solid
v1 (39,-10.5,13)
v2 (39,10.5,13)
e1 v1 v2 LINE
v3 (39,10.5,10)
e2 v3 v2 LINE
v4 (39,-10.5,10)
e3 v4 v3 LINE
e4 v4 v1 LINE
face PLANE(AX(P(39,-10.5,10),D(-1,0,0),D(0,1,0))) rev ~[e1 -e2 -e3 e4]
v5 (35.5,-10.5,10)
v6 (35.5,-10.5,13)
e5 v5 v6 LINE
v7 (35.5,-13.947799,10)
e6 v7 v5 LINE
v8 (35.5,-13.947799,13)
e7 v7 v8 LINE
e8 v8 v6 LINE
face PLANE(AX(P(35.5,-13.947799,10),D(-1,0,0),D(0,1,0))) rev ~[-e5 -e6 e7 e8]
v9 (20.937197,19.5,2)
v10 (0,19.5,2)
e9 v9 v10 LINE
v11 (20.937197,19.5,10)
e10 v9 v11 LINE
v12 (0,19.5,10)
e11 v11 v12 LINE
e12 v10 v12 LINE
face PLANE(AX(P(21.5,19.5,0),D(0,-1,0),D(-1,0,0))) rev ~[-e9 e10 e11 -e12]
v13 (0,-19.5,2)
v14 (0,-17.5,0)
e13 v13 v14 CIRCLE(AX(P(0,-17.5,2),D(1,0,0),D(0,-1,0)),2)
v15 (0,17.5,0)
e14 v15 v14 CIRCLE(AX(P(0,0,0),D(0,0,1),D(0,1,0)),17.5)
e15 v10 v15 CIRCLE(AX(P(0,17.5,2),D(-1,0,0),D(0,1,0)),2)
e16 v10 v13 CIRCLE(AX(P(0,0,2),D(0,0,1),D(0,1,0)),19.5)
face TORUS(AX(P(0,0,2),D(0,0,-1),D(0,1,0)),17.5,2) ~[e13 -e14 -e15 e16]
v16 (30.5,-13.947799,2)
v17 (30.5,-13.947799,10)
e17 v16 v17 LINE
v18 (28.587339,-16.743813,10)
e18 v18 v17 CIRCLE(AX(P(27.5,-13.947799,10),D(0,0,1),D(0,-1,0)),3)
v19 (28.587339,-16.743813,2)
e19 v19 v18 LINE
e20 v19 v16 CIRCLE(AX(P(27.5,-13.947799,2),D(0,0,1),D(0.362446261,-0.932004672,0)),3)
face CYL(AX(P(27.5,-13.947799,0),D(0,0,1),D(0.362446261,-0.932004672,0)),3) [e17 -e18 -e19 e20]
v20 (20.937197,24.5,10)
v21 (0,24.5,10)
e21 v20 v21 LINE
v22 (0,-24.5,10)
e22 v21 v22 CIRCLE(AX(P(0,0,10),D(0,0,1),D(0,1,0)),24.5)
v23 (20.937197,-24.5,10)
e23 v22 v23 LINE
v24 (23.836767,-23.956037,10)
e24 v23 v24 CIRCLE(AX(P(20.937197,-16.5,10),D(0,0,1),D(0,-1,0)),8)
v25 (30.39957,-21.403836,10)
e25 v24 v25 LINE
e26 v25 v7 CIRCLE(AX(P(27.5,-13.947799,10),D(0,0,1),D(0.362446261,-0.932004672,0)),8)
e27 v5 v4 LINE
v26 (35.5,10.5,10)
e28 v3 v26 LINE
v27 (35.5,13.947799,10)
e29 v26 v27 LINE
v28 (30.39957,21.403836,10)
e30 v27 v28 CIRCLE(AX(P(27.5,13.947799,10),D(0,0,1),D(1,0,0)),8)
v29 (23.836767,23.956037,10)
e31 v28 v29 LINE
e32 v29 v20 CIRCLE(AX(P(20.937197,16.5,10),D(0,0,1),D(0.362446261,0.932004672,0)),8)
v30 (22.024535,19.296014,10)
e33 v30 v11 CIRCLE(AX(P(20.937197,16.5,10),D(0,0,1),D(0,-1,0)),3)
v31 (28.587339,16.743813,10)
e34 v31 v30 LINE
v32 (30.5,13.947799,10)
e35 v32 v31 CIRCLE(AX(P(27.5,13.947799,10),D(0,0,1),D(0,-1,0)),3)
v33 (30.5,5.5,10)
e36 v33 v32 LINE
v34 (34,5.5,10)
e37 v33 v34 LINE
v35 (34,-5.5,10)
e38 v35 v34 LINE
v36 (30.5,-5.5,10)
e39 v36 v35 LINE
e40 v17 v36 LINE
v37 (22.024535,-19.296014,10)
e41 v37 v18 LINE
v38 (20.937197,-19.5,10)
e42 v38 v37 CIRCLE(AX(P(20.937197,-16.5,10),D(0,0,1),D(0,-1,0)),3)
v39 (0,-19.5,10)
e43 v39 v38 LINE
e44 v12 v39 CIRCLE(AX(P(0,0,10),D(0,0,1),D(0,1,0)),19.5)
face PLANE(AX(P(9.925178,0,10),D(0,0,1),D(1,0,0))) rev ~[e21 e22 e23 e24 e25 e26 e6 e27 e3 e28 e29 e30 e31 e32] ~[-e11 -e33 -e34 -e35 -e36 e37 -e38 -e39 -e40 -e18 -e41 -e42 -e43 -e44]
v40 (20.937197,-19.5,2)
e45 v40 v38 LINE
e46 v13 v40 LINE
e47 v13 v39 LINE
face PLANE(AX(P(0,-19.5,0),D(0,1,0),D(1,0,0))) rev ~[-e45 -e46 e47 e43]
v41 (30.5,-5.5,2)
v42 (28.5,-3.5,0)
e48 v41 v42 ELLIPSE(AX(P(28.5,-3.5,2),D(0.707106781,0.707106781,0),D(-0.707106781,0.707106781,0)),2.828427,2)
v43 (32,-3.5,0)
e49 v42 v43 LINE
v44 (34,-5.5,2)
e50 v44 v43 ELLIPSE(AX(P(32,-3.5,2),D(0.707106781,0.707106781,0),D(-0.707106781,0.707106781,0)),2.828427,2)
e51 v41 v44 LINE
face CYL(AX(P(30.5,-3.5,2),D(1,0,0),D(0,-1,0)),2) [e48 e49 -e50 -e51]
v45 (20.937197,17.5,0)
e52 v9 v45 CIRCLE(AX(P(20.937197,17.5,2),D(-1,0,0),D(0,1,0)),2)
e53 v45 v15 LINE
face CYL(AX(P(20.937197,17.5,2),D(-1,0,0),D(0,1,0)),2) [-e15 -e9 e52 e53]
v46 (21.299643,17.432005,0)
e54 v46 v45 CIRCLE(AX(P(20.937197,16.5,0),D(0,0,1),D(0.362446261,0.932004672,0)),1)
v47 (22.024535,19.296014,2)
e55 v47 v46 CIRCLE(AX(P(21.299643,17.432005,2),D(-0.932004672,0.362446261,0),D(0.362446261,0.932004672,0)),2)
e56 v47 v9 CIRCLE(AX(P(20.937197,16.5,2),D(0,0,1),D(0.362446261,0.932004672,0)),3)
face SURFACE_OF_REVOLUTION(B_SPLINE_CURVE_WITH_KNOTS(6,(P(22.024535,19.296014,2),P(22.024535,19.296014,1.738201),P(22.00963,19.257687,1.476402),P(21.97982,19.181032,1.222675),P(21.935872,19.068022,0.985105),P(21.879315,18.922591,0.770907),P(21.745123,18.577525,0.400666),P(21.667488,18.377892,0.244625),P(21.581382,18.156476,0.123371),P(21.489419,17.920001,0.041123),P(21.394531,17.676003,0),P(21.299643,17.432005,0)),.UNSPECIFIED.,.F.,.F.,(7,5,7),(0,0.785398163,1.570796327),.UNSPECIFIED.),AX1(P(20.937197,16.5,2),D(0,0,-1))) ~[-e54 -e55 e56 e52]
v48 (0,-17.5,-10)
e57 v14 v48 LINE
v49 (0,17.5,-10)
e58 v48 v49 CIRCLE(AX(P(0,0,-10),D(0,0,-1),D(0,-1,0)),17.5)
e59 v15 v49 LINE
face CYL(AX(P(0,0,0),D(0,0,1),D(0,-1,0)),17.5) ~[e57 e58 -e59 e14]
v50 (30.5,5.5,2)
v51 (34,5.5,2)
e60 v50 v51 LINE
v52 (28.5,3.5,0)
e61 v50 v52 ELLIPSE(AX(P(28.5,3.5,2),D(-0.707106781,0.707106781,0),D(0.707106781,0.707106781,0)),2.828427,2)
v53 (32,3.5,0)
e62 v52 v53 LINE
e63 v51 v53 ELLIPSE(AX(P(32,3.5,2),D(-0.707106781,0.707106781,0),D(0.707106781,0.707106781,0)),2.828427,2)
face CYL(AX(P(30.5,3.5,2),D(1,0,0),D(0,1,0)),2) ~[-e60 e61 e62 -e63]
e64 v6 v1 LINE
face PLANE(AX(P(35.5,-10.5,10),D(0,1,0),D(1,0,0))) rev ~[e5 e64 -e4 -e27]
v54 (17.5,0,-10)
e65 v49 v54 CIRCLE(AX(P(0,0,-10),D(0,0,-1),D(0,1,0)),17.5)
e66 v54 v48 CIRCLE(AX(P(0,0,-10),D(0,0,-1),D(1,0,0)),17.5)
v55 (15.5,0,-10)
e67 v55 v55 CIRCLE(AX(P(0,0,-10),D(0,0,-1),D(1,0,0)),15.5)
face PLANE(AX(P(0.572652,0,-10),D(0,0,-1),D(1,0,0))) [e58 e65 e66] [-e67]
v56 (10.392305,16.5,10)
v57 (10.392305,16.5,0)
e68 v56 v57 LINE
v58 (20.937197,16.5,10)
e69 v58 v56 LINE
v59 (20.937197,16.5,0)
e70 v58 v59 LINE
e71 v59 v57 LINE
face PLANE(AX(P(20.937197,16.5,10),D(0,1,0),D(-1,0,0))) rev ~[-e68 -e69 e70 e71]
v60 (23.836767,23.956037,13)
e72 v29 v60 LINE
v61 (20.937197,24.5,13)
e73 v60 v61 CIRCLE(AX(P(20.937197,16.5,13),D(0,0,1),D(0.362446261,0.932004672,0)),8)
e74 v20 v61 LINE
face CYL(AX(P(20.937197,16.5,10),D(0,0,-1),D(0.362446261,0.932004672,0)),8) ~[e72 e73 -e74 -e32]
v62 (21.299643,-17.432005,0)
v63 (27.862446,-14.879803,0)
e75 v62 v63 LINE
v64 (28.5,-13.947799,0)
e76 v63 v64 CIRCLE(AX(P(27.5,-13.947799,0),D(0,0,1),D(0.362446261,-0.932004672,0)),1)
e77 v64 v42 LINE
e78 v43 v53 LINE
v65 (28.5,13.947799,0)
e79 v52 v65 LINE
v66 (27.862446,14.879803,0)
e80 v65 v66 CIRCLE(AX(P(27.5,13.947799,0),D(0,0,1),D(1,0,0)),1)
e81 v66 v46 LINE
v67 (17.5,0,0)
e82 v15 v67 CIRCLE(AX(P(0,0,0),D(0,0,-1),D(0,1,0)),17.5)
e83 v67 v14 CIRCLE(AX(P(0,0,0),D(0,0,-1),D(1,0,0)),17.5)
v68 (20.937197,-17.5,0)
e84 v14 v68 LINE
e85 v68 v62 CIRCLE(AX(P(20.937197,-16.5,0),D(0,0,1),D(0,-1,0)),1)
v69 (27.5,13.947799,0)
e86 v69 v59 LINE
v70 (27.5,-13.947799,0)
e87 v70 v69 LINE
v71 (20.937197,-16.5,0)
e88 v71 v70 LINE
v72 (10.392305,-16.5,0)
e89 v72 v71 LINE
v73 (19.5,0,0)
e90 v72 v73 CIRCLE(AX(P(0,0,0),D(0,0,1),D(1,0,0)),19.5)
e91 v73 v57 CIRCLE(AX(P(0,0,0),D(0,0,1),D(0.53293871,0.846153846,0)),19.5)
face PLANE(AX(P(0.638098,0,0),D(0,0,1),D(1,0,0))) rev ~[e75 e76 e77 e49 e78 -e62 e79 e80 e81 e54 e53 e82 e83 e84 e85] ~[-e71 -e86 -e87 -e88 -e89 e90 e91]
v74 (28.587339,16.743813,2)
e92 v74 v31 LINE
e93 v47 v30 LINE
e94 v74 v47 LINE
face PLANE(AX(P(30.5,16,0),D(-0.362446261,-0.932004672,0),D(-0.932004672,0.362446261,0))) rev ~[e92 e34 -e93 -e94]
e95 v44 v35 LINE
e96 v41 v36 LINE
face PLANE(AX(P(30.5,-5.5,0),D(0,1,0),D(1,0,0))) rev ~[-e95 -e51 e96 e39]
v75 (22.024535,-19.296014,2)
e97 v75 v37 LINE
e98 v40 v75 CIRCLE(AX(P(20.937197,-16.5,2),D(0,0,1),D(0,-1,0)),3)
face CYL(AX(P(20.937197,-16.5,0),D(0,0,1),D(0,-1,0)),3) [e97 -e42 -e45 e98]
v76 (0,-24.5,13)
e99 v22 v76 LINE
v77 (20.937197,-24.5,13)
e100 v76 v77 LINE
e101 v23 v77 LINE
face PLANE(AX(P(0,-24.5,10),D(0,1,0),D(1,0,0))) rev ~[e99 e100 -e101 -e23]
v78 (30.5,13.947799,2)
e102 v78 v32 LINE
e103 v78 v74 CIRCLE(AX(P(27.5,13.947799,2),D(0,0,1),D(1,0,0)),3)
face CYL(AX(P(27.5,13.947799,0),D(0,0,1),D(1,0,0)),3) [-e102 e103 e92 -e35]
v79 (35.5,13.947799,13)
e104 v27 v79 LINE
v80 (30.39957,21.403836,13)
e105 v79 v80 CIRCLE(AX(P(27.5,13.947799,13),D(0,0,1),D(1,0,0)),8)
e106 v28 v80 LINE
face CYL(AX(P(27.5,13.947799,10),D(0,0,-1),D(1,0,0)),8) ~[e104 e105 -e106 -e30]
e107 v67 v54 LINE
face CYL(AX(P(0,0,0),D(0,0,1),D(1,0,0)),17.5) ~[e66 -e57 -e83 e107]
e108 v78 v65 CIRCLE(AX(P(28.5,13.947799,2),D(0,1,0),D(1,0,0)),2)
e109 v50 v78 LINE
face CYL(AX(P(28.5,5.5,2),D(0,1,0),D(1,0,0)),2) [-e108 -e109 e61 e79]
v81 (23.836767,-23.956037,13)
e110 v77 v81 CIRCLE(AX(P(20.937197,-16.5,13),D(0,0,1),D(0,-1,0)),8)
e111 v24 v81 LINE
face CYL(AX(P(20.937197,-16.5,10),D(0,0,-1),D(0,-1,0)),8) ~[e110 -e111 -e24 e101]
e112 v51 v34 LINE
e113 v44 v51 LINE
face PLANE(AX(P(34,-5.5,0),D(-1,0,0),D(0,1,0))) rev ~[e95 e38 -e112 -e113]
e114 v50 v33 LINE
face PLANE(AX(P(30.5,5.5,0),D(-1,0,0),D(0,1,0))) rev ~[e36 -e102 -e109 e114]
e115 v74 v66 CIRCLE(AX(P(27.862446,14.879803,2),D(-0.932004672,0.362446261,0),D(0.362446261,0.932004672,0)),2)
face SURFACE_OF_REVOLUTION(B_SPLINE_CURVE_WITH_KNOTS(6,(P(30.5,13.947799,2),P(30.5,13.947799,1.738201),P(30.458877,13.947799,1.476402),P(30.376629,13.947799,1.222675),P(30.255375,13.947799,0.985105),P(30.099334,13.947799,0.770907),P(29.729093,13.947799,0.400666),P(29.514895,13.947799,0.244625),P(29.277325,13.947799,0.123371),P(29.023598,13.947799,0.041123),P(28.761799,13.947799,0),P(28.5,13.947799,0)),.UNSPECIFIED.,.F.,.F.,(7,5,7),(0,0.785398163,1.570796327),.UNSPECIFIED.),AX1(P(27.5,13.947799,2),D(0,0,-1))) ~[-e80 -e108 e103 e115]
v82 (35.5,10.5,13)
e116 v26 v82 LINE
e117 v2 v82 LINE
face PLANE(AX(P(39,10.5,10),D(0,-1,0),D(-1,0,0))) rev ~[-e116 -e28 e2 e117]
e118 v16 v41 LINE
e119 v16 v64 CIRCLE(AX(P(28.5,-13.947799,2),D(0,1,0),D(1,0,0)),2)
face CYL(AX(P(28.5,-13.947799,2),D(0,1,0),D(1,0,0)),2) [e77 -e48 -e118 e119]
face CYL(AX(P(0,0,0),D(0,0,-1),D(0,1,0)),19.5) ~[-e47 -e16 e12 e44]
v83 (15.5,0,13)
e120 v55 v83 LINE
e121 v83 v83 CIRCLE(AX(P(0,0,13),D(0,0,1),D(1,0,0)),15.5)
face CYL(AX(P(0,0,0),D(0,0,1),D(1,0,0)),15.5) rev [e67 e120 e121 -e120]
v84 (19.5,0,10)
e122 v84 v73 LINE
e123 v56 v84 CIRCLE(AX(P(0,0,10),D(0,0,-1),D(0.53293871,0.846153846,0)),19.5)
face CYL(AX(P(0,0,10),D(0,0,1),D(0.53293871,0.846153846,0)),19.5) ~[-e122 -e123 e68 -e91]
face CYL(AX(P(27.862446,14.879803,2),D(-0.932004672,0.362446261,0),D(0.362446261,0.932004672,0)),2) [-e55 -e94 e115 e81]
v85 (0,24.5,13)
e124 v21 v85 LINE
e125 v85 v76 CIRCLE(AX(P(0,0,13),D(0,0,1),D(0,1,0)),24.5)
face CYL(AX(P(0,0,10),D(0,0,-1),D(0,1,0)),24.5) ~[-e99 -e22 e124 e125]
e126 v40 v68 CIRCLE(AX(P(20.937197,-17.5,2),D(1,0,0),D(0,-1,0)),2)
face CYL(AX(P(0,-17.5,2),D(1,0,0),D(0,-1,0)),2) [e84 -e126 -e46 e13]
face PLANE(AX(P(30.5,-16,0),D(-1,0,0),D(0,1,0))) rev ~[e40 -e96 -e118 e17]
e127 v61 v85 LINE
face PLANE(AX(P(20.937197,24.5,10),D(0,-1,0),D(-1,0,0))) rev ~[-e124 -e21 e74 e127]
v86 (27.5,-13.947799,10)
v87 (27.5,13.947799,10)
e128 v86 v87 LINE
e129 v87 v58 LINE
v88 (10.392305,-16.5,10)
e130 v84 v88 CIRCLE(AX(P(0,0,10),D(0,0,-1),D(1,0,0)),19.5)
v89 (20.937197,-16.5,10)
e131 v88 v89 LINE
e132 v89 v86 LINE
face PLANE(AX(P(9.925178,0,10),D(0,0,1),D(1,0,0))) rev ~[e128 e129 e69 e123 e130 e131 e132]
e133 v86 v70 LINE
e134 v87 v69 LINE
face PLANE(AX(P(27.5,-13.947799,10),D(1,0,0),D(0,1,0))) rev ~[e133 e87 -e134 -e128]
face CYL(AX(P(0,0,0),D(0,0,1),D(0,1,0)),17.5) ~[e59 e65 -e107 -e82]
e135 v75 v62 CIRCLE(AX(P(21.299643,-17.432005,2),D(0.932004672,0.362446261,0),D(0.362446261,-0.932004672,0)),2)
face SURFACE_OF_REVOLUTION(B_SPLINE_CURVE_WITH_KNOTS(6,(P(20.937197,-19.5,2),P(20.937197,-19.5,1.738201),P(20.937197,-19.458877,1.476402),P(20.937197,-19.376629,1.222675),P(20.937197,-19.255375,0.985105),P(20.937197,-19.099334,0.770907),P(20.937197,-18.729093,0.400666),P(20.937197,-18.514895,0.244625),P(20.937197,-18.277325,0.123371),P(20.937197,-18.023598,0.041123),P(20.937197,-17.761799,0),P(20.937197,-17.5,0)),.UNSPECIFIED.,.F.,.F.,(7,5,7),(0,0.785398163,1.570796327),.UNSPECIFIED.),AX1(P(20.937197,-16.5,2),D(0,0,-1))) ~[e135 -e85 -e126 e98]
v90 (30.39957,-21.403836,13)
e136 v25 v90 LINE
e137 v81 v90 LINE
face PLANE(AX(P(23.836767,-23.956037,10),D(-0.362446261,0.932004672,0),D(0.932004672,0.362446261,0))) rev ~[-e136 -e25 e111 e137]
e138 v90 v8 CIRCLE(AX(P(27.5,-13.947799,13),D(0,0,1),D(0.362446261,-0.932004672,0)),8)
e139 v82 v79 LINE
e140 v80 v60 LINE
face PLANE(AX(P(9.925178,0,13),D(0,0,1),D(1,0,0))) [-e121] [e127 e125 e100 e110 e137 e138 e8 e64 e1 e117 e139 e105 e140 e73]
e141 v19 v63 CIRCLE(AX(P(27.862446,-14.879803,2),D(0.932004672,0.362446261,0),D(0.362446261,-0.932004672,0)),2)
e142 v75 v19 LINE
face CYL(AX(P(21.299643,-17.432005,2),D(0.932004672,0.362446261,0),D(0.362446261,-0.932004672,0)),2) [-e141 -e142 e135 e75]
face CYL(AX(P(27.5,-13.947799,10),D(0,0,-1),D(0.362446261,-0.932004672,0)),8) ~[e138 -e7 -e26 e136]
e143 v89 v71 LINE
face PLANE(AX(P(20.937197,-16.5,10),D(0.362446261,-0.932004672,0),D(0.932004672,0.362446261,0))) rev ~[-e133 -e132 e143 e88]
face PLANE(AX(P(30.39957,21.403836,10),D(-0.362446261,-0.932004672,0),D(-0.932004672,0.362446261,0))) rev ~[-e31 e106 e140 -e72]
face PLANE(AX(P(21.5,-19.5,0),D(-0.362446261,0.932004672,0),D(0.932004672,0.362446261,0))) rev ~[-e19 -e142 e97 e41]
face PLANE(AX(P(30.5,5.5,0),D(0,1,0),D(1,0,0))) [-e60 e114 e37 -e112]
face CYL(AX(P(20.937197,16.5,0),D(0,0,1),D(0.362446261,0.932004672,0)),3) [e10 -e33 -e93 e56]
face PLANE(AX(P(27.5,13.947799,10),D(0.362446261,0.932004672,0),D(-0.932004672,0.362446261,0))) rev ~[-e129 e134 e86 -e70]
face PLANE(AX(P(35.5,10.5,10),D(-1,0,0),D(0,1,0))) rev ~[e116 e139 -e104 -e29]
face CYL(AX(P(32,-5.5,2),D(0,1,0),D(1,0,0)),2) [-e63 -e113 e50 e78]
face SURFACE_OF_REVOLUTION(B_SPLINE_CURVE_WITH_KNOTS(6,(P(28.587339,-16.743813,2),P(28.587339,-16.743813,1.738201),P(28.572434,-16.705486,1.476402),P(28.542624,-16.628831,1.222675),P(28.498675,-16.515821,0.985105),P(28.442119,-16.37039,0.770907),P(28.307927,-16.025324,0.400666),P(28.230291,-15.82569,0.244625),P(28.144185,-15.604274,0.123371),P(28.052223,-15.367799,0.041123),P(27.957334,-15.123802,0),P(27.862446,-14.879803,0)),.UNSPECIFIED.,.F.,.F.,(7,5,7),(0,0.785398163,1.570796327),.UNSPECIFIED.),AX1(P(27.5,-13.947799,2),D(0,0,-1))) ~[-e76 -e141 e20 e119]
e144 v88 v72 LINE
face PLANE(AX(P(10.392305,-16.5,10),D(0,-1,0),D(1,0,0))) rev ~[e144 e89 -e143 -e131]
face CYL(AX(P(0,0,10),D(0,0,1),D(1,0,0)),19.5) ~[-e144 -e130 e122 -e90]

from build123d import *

# Parameters (mm, degrees)
F0_W     = 3.5
F0_H     = 11
F1_DEPTH = 10
F2_R     = 3
F3_R     = 15.5
F4_DEPTH = 25
F3_W     = 3.5
F3_H     = 5
F5_DEPTH = 3
F6_R     = 2
F7_R     = 15.5
F8_DEPTH = 10


with BuildPart() as f1:
    # F0 (on Top) → F1 (new body)
    with BuildSketch(Plane.XY):
        with BuildLine():
            ThreePointArc((0, -19.5), (13.7885822331, -13.7885822331), (19.5, 0))
            ThreePointArc((19.5, 0), (13.7885822331, 13.7885822331), (0, 19.5))
            ThreePointArc((0, 19.5), (-19.5, 0), (0, -19.5))
        make_face()
        with BuildLine():
            ThreePointArc((0, 19.5), (13.7885822331, 13.7885822331), (19.5, 0))
            ThreePointArc((19.5, 0), (13.7885822331, -13.7885822331), (0, -19.5))
            Line((0, -19.5), (21.5, -19.5))
            Line((21.5, -19.5), (21.5, 19.5))
            Line((21.5, 19.5), (0, 19.5))
        make_face()
        Polygon((30.5, 16), (21.5, 19.5), (21.5, -19.5), (30.5, -16), (30.5, -5.5), (30.5, 5.5), align=None)
        with Locations((32.25, 0)):
            Rectangle(F0_W, F0_H)
    extrude(amount=F1_DEPTH)

    # F2
    f2_edges = [f1.edges().sort_by_distance(p)[0] for p in [
        (30.5, 16, 5),
        (21.5, 19.5, 5),
        (30.5, -16, 5),
        (21.5, -19.5, 5),
    ]]
    fillet(f2_edges, radius=F2_R)

    # F3 (on face) → F4 (cut)
    with BuildSketch(Plane.XY.offset(10)):
        Circle(F3_R)
        with BuildLine():
            Line((20.9371966075, 16.5), (10.3923048454, 16.5))
            ThreePointArc((10.3923048454, 16.5), (17.0719059347, 9.4233766643), (19.5, 0))
            ThreePointArc((19.5, 0), (17.0719059347, -9.4233766643), (10.3923048454, -16.5))
            Line((10.3923048454, -16.5), (20.9371966075, -16.5))
            Line((20.9371966075, -16.5), (27.5, -13.9477986807))
            Line((27.5, -13.9477986807), (27.5, -2.5))
            Line((27.5, -2.5), (27.5, 2.5))
            Line((27.5, 2.5), (27.5, 13.9477986807))
            Line((27.5, 13.9477986807), (20.9371966075, 16.5))
        make_face()
    extrude(amount=-F4_DEPTH, mode=Mode.SUBTRACT)

    # F3 (on face) → F5 (join)
    with BuildSketch(Plane.XY.offset(10)):
        with BuildLine():
            Line((20.9371966075, 24.5), (0, 24.5))
            ThreePointArc((0, 24.5), (-24.5, 0), (0, -24.5))
            Line((0, -24.5), (20.9371966075, -24.5))
            ThreePointArc((20.9371966075, -24.5), (22.4122730498, -24.3628334263), (23.8367666967, -23.9560373723))
            Line((23.8367666967, -23.9560373723), (30.3995700892, -21.403836053))
            ThreePointArc((30.3995700892, -21.403836053), (34.1028993902, -18.4646249606), (35.5, -13.9477986807))
            Line((35.5, -13.9477986807), (35.5, -10.5))
            Line((35.5, -10.5), (39, -10.5))
            Line((39, -10.5), (39, 10.5))
            Line((39, 10.5), (35.5, 10.5))
            Line((35.5, 10.5), (35.5, 13.9477986807))
            ThreePointArc((35.5, 13.9477986807), (34.1028993902, 18.4646249606), (30.3995700892, 21.403836053))
            Line((30.3995700892, 21.403836053), (23.8367666967, 23.9560373723))
            ThreePointArc((23.8367666967, 23.9560373723), (22.4122730498, 24.3628334263), (20.9371966075, 24.5))
        make_face()
        with BuildLine():
            ThreePointArc((0, -19.5), (-19.5, 0), (0, 19.5))
            Line((0, 19.5), (20.9371966075, 19.5))
            ThreePointArc((20.9371966075, 19.5), (21.4903502734, 19.4485625349), (22.024535391, 19.2960140146))
            Line((22.024535391, 19.2960140146), (28.5873387835, 16.7438126953))
            ThreePointArc((28.5873387835, 16.7438126953), (29.9760872713, 15.6416085357), (30.5, 13.9477986807))
            Line((30.5, 13.9477986807), (30.5, 5.5))
            Line((30.5, 5.5), (34, 5.5))
            Line((34, 5.5), (34, -5.5))
            Line((34, -5.5), (30.5, -5.5))
            Line((30.5, -5.5), (30.5, -13.9477986807))
            ThreePointArc((30.5, -13.9477986807), (29.9760872713, -15.6416085357), (28.5873387835, -16.7438126953))
            Line((28.5873387835, -16.7438126953), (22.024535391, -19.2960140146))
            ThreePointArc((22.024535391, -19.2960140146), (21.4903502734, -19.4485625349), (20.9371966075, -19.5))
            Line((20.9371966075, -19.5), (0, -19.5))
        make_face(mode=Mode.SUBTRACT)
        with BuildLine():
            ThreePointArc((0, -16.5), (-16.5, 0), (0, 16.5))
            Line((0, 16.5), (10.3923048454, 16.5))
            ThreePointArc((10.3923048454, 16.5), (5.4083269132, 18.7349939952), (0, 19.5))
            ThreePointArc((0, 19.5), (-19.5, 0), (0, -19.5))
            ThreePointArc((0, -19.5), (5.4083269132, -18.7349939952), (10.3923048454, -16.5))
            Line((10.3923048454, -16.5), (0, -16.5))
        make_face()
        with Locations((29.25, 0)):
            Rectangle(F3_W, F3_H)
        with BuildLine():
            ThreePointArc((0, 19.5), (5.4083269132, 18.7349939952), (10.3923048454, 16.5))
            Line((10.3923048454, 16.5), (20.9371966075, 16.5))
            Line((20.9371966075, 16.5), (27.5, 13.9477986807))
            Line((27.5, 13.9477986807), (27.5, 2.5))
            Line((27.5, 2.5), (31, 2.5))
            Line((31, 2.5), (31, -2.5))
            Line((31, -2.5), (27.5, -2.5))
            Line((27.5, -2.5), (27.5, -13.9477986807))
            Line((27.5, -13.9477986807), (20.9371966075, -16.5))
            Line((20.9371966075, -16.5), (10.3923048454, -16.5))
            ThreePointArc((10.3923048454, -16.5), (5.4083269132, -18.7349939952), (0, -19.5))
            Line((0, -19.5), (20.9371966075, -19.5))
            ThreePointArc((20.9371966075, -19.5), (21.4903502734, -19.4485625349), (22.024535391, -19.2960140146))
            Line((22.024535391, -19.2960140146), (28.5873387835, -16.7438126953))
            ThreePointArc((28.5873387835, -16.7438126953), (29.9760872713, -15.6416085357), (30.5, -13.9477986807))
            Line((30.5, -13.9477986807), (30.5, -5.5))
            Line((30.5, -5.5), (34, -5.5))
            Line((34, -5.5), (34, 5.5))
            Line((34, 5.5), (30.5, 5.5))
            Line((30.5, 5.5), (30.5, 13.9477986807))
            ThreePointArc((30.5, 13.9477986807), (29.9760872713, 15.6416085357), (28.5873387835, 16.7438126953))
            Line((28.5873387835, 16.7438126953), (22.024535391, 19.2960140146))
            ThreePointArc((22.024535391, 19.2960140146), (21.4903502734, 19.4485625349), (20.9371966075, 19.5))
            Line((20.9371966075, 19.5), (0, 19.5))
        make_face()
        with BuildLine():
            Line((20.9371966075, 16.5), (10.3923048454, 16.5))
            ThreePointArc((10.3923048454, 16.5), (17.0719059347, 9.4233766643), (19.5, 0))
            ThreePointArc((19.5, 0), (17.0719059347, -9.4233766643), (10.3923048454, -16.5))
            Line((10.3923048454, -16.5), (20.9371966075, -16.5))
            Line((20.9371966075, -16.5), (27.5, -13.9477986807))
            Line((27.5, -13.9477986807), (27.5, -2.5))
            Line((27.5, -2.5), (27.5, 2.5))
            Line((27.5, 2.5), (27.5, 13.9477986807))
            Line((27.5, 13.9477986807), (20.9371966075, 16.5))
        make_face()
        with BuildLine():
            Line((10.3923048454, 16.5), (0, 16.5))
            ThreePointArc((0, 16.5), (11.6672618896, 11.6672618896), (16.5, 0))
            ThreePointArc((16.5, 0), (11.6672618896, -11.6672618896), (0, -16.5))
            Line((0, -16.5), (10.3923048454, -16.5))
            ThreePointArc((10.3923048454, -16.5), (17.0719059347, -9.4233766643), (19.5, 0))
            ThreePointArc((19.5, 0), (17.0719059347, 9.4233766643), (10.3923048454, 16.5))
        make_face()
        with BuildLine():
            ThreePointArc((16.5, 0), (11.6672618896, 11.6672618896), (0, 16.5))
            ThreePointArc((0, 16.5), (-16.5, 0), (0, -16.5))
            ThreePointArc((0, -16.5), (11.6672618896, -11.6672618896), (16.5, 0))
        make_face()
        Circle(F3_R, mode=Mode.SUBTRACT)
    extrude(amount=F5_DEPTH)

    # F6
    f6_edges = [f1.edges().sort_by_distance(p)[0] for p in [
        (-19.5, 0, 0),
        (10.468598, -19.5, 0),
        (25.305937, -18.019913, 0),
        (30.5, -9.723899, 0),
        (29.976087, -15.641609, 0),
        (34, 0, 0),
        (32.25, 5.5, 0),
        (30.5, 9.723899, 0),
        (21.49035, -19.448563, 0),
        (10.468598, 19.5, 0),
        (25.305937, 18.019913, 0),
        (29.976087, 15.641609, 0),
        (21.49035, 19.448563, 0),
        (32.25, -5.5, 0),
    ]]
    fillet(f6_edges, radius=F6_R)

    # F7 (on face) → F8 (join)
    with BuildSketch(Plane(origin=(0, 0, 0), x_dir=(1, 0, 0), z_dir=(0, 0, -1))):
        with BuildLine():
            ThreePointArc((0, -17.5), (12.3743686708, -12.3743686708), (17.5, 0))
            ThreePointArc((17.5, 0), (12.3743686708, 12.3743686708), (0, 17.5))
            ThreePointArc((0, 17.5), (-17.5, 0), (0, -17.5))
        make_face()
        Circle(F7_R, mode=Mode.SUBTRACT)
    extrude(amount=F8_DEPTH)


solid = f1.part
